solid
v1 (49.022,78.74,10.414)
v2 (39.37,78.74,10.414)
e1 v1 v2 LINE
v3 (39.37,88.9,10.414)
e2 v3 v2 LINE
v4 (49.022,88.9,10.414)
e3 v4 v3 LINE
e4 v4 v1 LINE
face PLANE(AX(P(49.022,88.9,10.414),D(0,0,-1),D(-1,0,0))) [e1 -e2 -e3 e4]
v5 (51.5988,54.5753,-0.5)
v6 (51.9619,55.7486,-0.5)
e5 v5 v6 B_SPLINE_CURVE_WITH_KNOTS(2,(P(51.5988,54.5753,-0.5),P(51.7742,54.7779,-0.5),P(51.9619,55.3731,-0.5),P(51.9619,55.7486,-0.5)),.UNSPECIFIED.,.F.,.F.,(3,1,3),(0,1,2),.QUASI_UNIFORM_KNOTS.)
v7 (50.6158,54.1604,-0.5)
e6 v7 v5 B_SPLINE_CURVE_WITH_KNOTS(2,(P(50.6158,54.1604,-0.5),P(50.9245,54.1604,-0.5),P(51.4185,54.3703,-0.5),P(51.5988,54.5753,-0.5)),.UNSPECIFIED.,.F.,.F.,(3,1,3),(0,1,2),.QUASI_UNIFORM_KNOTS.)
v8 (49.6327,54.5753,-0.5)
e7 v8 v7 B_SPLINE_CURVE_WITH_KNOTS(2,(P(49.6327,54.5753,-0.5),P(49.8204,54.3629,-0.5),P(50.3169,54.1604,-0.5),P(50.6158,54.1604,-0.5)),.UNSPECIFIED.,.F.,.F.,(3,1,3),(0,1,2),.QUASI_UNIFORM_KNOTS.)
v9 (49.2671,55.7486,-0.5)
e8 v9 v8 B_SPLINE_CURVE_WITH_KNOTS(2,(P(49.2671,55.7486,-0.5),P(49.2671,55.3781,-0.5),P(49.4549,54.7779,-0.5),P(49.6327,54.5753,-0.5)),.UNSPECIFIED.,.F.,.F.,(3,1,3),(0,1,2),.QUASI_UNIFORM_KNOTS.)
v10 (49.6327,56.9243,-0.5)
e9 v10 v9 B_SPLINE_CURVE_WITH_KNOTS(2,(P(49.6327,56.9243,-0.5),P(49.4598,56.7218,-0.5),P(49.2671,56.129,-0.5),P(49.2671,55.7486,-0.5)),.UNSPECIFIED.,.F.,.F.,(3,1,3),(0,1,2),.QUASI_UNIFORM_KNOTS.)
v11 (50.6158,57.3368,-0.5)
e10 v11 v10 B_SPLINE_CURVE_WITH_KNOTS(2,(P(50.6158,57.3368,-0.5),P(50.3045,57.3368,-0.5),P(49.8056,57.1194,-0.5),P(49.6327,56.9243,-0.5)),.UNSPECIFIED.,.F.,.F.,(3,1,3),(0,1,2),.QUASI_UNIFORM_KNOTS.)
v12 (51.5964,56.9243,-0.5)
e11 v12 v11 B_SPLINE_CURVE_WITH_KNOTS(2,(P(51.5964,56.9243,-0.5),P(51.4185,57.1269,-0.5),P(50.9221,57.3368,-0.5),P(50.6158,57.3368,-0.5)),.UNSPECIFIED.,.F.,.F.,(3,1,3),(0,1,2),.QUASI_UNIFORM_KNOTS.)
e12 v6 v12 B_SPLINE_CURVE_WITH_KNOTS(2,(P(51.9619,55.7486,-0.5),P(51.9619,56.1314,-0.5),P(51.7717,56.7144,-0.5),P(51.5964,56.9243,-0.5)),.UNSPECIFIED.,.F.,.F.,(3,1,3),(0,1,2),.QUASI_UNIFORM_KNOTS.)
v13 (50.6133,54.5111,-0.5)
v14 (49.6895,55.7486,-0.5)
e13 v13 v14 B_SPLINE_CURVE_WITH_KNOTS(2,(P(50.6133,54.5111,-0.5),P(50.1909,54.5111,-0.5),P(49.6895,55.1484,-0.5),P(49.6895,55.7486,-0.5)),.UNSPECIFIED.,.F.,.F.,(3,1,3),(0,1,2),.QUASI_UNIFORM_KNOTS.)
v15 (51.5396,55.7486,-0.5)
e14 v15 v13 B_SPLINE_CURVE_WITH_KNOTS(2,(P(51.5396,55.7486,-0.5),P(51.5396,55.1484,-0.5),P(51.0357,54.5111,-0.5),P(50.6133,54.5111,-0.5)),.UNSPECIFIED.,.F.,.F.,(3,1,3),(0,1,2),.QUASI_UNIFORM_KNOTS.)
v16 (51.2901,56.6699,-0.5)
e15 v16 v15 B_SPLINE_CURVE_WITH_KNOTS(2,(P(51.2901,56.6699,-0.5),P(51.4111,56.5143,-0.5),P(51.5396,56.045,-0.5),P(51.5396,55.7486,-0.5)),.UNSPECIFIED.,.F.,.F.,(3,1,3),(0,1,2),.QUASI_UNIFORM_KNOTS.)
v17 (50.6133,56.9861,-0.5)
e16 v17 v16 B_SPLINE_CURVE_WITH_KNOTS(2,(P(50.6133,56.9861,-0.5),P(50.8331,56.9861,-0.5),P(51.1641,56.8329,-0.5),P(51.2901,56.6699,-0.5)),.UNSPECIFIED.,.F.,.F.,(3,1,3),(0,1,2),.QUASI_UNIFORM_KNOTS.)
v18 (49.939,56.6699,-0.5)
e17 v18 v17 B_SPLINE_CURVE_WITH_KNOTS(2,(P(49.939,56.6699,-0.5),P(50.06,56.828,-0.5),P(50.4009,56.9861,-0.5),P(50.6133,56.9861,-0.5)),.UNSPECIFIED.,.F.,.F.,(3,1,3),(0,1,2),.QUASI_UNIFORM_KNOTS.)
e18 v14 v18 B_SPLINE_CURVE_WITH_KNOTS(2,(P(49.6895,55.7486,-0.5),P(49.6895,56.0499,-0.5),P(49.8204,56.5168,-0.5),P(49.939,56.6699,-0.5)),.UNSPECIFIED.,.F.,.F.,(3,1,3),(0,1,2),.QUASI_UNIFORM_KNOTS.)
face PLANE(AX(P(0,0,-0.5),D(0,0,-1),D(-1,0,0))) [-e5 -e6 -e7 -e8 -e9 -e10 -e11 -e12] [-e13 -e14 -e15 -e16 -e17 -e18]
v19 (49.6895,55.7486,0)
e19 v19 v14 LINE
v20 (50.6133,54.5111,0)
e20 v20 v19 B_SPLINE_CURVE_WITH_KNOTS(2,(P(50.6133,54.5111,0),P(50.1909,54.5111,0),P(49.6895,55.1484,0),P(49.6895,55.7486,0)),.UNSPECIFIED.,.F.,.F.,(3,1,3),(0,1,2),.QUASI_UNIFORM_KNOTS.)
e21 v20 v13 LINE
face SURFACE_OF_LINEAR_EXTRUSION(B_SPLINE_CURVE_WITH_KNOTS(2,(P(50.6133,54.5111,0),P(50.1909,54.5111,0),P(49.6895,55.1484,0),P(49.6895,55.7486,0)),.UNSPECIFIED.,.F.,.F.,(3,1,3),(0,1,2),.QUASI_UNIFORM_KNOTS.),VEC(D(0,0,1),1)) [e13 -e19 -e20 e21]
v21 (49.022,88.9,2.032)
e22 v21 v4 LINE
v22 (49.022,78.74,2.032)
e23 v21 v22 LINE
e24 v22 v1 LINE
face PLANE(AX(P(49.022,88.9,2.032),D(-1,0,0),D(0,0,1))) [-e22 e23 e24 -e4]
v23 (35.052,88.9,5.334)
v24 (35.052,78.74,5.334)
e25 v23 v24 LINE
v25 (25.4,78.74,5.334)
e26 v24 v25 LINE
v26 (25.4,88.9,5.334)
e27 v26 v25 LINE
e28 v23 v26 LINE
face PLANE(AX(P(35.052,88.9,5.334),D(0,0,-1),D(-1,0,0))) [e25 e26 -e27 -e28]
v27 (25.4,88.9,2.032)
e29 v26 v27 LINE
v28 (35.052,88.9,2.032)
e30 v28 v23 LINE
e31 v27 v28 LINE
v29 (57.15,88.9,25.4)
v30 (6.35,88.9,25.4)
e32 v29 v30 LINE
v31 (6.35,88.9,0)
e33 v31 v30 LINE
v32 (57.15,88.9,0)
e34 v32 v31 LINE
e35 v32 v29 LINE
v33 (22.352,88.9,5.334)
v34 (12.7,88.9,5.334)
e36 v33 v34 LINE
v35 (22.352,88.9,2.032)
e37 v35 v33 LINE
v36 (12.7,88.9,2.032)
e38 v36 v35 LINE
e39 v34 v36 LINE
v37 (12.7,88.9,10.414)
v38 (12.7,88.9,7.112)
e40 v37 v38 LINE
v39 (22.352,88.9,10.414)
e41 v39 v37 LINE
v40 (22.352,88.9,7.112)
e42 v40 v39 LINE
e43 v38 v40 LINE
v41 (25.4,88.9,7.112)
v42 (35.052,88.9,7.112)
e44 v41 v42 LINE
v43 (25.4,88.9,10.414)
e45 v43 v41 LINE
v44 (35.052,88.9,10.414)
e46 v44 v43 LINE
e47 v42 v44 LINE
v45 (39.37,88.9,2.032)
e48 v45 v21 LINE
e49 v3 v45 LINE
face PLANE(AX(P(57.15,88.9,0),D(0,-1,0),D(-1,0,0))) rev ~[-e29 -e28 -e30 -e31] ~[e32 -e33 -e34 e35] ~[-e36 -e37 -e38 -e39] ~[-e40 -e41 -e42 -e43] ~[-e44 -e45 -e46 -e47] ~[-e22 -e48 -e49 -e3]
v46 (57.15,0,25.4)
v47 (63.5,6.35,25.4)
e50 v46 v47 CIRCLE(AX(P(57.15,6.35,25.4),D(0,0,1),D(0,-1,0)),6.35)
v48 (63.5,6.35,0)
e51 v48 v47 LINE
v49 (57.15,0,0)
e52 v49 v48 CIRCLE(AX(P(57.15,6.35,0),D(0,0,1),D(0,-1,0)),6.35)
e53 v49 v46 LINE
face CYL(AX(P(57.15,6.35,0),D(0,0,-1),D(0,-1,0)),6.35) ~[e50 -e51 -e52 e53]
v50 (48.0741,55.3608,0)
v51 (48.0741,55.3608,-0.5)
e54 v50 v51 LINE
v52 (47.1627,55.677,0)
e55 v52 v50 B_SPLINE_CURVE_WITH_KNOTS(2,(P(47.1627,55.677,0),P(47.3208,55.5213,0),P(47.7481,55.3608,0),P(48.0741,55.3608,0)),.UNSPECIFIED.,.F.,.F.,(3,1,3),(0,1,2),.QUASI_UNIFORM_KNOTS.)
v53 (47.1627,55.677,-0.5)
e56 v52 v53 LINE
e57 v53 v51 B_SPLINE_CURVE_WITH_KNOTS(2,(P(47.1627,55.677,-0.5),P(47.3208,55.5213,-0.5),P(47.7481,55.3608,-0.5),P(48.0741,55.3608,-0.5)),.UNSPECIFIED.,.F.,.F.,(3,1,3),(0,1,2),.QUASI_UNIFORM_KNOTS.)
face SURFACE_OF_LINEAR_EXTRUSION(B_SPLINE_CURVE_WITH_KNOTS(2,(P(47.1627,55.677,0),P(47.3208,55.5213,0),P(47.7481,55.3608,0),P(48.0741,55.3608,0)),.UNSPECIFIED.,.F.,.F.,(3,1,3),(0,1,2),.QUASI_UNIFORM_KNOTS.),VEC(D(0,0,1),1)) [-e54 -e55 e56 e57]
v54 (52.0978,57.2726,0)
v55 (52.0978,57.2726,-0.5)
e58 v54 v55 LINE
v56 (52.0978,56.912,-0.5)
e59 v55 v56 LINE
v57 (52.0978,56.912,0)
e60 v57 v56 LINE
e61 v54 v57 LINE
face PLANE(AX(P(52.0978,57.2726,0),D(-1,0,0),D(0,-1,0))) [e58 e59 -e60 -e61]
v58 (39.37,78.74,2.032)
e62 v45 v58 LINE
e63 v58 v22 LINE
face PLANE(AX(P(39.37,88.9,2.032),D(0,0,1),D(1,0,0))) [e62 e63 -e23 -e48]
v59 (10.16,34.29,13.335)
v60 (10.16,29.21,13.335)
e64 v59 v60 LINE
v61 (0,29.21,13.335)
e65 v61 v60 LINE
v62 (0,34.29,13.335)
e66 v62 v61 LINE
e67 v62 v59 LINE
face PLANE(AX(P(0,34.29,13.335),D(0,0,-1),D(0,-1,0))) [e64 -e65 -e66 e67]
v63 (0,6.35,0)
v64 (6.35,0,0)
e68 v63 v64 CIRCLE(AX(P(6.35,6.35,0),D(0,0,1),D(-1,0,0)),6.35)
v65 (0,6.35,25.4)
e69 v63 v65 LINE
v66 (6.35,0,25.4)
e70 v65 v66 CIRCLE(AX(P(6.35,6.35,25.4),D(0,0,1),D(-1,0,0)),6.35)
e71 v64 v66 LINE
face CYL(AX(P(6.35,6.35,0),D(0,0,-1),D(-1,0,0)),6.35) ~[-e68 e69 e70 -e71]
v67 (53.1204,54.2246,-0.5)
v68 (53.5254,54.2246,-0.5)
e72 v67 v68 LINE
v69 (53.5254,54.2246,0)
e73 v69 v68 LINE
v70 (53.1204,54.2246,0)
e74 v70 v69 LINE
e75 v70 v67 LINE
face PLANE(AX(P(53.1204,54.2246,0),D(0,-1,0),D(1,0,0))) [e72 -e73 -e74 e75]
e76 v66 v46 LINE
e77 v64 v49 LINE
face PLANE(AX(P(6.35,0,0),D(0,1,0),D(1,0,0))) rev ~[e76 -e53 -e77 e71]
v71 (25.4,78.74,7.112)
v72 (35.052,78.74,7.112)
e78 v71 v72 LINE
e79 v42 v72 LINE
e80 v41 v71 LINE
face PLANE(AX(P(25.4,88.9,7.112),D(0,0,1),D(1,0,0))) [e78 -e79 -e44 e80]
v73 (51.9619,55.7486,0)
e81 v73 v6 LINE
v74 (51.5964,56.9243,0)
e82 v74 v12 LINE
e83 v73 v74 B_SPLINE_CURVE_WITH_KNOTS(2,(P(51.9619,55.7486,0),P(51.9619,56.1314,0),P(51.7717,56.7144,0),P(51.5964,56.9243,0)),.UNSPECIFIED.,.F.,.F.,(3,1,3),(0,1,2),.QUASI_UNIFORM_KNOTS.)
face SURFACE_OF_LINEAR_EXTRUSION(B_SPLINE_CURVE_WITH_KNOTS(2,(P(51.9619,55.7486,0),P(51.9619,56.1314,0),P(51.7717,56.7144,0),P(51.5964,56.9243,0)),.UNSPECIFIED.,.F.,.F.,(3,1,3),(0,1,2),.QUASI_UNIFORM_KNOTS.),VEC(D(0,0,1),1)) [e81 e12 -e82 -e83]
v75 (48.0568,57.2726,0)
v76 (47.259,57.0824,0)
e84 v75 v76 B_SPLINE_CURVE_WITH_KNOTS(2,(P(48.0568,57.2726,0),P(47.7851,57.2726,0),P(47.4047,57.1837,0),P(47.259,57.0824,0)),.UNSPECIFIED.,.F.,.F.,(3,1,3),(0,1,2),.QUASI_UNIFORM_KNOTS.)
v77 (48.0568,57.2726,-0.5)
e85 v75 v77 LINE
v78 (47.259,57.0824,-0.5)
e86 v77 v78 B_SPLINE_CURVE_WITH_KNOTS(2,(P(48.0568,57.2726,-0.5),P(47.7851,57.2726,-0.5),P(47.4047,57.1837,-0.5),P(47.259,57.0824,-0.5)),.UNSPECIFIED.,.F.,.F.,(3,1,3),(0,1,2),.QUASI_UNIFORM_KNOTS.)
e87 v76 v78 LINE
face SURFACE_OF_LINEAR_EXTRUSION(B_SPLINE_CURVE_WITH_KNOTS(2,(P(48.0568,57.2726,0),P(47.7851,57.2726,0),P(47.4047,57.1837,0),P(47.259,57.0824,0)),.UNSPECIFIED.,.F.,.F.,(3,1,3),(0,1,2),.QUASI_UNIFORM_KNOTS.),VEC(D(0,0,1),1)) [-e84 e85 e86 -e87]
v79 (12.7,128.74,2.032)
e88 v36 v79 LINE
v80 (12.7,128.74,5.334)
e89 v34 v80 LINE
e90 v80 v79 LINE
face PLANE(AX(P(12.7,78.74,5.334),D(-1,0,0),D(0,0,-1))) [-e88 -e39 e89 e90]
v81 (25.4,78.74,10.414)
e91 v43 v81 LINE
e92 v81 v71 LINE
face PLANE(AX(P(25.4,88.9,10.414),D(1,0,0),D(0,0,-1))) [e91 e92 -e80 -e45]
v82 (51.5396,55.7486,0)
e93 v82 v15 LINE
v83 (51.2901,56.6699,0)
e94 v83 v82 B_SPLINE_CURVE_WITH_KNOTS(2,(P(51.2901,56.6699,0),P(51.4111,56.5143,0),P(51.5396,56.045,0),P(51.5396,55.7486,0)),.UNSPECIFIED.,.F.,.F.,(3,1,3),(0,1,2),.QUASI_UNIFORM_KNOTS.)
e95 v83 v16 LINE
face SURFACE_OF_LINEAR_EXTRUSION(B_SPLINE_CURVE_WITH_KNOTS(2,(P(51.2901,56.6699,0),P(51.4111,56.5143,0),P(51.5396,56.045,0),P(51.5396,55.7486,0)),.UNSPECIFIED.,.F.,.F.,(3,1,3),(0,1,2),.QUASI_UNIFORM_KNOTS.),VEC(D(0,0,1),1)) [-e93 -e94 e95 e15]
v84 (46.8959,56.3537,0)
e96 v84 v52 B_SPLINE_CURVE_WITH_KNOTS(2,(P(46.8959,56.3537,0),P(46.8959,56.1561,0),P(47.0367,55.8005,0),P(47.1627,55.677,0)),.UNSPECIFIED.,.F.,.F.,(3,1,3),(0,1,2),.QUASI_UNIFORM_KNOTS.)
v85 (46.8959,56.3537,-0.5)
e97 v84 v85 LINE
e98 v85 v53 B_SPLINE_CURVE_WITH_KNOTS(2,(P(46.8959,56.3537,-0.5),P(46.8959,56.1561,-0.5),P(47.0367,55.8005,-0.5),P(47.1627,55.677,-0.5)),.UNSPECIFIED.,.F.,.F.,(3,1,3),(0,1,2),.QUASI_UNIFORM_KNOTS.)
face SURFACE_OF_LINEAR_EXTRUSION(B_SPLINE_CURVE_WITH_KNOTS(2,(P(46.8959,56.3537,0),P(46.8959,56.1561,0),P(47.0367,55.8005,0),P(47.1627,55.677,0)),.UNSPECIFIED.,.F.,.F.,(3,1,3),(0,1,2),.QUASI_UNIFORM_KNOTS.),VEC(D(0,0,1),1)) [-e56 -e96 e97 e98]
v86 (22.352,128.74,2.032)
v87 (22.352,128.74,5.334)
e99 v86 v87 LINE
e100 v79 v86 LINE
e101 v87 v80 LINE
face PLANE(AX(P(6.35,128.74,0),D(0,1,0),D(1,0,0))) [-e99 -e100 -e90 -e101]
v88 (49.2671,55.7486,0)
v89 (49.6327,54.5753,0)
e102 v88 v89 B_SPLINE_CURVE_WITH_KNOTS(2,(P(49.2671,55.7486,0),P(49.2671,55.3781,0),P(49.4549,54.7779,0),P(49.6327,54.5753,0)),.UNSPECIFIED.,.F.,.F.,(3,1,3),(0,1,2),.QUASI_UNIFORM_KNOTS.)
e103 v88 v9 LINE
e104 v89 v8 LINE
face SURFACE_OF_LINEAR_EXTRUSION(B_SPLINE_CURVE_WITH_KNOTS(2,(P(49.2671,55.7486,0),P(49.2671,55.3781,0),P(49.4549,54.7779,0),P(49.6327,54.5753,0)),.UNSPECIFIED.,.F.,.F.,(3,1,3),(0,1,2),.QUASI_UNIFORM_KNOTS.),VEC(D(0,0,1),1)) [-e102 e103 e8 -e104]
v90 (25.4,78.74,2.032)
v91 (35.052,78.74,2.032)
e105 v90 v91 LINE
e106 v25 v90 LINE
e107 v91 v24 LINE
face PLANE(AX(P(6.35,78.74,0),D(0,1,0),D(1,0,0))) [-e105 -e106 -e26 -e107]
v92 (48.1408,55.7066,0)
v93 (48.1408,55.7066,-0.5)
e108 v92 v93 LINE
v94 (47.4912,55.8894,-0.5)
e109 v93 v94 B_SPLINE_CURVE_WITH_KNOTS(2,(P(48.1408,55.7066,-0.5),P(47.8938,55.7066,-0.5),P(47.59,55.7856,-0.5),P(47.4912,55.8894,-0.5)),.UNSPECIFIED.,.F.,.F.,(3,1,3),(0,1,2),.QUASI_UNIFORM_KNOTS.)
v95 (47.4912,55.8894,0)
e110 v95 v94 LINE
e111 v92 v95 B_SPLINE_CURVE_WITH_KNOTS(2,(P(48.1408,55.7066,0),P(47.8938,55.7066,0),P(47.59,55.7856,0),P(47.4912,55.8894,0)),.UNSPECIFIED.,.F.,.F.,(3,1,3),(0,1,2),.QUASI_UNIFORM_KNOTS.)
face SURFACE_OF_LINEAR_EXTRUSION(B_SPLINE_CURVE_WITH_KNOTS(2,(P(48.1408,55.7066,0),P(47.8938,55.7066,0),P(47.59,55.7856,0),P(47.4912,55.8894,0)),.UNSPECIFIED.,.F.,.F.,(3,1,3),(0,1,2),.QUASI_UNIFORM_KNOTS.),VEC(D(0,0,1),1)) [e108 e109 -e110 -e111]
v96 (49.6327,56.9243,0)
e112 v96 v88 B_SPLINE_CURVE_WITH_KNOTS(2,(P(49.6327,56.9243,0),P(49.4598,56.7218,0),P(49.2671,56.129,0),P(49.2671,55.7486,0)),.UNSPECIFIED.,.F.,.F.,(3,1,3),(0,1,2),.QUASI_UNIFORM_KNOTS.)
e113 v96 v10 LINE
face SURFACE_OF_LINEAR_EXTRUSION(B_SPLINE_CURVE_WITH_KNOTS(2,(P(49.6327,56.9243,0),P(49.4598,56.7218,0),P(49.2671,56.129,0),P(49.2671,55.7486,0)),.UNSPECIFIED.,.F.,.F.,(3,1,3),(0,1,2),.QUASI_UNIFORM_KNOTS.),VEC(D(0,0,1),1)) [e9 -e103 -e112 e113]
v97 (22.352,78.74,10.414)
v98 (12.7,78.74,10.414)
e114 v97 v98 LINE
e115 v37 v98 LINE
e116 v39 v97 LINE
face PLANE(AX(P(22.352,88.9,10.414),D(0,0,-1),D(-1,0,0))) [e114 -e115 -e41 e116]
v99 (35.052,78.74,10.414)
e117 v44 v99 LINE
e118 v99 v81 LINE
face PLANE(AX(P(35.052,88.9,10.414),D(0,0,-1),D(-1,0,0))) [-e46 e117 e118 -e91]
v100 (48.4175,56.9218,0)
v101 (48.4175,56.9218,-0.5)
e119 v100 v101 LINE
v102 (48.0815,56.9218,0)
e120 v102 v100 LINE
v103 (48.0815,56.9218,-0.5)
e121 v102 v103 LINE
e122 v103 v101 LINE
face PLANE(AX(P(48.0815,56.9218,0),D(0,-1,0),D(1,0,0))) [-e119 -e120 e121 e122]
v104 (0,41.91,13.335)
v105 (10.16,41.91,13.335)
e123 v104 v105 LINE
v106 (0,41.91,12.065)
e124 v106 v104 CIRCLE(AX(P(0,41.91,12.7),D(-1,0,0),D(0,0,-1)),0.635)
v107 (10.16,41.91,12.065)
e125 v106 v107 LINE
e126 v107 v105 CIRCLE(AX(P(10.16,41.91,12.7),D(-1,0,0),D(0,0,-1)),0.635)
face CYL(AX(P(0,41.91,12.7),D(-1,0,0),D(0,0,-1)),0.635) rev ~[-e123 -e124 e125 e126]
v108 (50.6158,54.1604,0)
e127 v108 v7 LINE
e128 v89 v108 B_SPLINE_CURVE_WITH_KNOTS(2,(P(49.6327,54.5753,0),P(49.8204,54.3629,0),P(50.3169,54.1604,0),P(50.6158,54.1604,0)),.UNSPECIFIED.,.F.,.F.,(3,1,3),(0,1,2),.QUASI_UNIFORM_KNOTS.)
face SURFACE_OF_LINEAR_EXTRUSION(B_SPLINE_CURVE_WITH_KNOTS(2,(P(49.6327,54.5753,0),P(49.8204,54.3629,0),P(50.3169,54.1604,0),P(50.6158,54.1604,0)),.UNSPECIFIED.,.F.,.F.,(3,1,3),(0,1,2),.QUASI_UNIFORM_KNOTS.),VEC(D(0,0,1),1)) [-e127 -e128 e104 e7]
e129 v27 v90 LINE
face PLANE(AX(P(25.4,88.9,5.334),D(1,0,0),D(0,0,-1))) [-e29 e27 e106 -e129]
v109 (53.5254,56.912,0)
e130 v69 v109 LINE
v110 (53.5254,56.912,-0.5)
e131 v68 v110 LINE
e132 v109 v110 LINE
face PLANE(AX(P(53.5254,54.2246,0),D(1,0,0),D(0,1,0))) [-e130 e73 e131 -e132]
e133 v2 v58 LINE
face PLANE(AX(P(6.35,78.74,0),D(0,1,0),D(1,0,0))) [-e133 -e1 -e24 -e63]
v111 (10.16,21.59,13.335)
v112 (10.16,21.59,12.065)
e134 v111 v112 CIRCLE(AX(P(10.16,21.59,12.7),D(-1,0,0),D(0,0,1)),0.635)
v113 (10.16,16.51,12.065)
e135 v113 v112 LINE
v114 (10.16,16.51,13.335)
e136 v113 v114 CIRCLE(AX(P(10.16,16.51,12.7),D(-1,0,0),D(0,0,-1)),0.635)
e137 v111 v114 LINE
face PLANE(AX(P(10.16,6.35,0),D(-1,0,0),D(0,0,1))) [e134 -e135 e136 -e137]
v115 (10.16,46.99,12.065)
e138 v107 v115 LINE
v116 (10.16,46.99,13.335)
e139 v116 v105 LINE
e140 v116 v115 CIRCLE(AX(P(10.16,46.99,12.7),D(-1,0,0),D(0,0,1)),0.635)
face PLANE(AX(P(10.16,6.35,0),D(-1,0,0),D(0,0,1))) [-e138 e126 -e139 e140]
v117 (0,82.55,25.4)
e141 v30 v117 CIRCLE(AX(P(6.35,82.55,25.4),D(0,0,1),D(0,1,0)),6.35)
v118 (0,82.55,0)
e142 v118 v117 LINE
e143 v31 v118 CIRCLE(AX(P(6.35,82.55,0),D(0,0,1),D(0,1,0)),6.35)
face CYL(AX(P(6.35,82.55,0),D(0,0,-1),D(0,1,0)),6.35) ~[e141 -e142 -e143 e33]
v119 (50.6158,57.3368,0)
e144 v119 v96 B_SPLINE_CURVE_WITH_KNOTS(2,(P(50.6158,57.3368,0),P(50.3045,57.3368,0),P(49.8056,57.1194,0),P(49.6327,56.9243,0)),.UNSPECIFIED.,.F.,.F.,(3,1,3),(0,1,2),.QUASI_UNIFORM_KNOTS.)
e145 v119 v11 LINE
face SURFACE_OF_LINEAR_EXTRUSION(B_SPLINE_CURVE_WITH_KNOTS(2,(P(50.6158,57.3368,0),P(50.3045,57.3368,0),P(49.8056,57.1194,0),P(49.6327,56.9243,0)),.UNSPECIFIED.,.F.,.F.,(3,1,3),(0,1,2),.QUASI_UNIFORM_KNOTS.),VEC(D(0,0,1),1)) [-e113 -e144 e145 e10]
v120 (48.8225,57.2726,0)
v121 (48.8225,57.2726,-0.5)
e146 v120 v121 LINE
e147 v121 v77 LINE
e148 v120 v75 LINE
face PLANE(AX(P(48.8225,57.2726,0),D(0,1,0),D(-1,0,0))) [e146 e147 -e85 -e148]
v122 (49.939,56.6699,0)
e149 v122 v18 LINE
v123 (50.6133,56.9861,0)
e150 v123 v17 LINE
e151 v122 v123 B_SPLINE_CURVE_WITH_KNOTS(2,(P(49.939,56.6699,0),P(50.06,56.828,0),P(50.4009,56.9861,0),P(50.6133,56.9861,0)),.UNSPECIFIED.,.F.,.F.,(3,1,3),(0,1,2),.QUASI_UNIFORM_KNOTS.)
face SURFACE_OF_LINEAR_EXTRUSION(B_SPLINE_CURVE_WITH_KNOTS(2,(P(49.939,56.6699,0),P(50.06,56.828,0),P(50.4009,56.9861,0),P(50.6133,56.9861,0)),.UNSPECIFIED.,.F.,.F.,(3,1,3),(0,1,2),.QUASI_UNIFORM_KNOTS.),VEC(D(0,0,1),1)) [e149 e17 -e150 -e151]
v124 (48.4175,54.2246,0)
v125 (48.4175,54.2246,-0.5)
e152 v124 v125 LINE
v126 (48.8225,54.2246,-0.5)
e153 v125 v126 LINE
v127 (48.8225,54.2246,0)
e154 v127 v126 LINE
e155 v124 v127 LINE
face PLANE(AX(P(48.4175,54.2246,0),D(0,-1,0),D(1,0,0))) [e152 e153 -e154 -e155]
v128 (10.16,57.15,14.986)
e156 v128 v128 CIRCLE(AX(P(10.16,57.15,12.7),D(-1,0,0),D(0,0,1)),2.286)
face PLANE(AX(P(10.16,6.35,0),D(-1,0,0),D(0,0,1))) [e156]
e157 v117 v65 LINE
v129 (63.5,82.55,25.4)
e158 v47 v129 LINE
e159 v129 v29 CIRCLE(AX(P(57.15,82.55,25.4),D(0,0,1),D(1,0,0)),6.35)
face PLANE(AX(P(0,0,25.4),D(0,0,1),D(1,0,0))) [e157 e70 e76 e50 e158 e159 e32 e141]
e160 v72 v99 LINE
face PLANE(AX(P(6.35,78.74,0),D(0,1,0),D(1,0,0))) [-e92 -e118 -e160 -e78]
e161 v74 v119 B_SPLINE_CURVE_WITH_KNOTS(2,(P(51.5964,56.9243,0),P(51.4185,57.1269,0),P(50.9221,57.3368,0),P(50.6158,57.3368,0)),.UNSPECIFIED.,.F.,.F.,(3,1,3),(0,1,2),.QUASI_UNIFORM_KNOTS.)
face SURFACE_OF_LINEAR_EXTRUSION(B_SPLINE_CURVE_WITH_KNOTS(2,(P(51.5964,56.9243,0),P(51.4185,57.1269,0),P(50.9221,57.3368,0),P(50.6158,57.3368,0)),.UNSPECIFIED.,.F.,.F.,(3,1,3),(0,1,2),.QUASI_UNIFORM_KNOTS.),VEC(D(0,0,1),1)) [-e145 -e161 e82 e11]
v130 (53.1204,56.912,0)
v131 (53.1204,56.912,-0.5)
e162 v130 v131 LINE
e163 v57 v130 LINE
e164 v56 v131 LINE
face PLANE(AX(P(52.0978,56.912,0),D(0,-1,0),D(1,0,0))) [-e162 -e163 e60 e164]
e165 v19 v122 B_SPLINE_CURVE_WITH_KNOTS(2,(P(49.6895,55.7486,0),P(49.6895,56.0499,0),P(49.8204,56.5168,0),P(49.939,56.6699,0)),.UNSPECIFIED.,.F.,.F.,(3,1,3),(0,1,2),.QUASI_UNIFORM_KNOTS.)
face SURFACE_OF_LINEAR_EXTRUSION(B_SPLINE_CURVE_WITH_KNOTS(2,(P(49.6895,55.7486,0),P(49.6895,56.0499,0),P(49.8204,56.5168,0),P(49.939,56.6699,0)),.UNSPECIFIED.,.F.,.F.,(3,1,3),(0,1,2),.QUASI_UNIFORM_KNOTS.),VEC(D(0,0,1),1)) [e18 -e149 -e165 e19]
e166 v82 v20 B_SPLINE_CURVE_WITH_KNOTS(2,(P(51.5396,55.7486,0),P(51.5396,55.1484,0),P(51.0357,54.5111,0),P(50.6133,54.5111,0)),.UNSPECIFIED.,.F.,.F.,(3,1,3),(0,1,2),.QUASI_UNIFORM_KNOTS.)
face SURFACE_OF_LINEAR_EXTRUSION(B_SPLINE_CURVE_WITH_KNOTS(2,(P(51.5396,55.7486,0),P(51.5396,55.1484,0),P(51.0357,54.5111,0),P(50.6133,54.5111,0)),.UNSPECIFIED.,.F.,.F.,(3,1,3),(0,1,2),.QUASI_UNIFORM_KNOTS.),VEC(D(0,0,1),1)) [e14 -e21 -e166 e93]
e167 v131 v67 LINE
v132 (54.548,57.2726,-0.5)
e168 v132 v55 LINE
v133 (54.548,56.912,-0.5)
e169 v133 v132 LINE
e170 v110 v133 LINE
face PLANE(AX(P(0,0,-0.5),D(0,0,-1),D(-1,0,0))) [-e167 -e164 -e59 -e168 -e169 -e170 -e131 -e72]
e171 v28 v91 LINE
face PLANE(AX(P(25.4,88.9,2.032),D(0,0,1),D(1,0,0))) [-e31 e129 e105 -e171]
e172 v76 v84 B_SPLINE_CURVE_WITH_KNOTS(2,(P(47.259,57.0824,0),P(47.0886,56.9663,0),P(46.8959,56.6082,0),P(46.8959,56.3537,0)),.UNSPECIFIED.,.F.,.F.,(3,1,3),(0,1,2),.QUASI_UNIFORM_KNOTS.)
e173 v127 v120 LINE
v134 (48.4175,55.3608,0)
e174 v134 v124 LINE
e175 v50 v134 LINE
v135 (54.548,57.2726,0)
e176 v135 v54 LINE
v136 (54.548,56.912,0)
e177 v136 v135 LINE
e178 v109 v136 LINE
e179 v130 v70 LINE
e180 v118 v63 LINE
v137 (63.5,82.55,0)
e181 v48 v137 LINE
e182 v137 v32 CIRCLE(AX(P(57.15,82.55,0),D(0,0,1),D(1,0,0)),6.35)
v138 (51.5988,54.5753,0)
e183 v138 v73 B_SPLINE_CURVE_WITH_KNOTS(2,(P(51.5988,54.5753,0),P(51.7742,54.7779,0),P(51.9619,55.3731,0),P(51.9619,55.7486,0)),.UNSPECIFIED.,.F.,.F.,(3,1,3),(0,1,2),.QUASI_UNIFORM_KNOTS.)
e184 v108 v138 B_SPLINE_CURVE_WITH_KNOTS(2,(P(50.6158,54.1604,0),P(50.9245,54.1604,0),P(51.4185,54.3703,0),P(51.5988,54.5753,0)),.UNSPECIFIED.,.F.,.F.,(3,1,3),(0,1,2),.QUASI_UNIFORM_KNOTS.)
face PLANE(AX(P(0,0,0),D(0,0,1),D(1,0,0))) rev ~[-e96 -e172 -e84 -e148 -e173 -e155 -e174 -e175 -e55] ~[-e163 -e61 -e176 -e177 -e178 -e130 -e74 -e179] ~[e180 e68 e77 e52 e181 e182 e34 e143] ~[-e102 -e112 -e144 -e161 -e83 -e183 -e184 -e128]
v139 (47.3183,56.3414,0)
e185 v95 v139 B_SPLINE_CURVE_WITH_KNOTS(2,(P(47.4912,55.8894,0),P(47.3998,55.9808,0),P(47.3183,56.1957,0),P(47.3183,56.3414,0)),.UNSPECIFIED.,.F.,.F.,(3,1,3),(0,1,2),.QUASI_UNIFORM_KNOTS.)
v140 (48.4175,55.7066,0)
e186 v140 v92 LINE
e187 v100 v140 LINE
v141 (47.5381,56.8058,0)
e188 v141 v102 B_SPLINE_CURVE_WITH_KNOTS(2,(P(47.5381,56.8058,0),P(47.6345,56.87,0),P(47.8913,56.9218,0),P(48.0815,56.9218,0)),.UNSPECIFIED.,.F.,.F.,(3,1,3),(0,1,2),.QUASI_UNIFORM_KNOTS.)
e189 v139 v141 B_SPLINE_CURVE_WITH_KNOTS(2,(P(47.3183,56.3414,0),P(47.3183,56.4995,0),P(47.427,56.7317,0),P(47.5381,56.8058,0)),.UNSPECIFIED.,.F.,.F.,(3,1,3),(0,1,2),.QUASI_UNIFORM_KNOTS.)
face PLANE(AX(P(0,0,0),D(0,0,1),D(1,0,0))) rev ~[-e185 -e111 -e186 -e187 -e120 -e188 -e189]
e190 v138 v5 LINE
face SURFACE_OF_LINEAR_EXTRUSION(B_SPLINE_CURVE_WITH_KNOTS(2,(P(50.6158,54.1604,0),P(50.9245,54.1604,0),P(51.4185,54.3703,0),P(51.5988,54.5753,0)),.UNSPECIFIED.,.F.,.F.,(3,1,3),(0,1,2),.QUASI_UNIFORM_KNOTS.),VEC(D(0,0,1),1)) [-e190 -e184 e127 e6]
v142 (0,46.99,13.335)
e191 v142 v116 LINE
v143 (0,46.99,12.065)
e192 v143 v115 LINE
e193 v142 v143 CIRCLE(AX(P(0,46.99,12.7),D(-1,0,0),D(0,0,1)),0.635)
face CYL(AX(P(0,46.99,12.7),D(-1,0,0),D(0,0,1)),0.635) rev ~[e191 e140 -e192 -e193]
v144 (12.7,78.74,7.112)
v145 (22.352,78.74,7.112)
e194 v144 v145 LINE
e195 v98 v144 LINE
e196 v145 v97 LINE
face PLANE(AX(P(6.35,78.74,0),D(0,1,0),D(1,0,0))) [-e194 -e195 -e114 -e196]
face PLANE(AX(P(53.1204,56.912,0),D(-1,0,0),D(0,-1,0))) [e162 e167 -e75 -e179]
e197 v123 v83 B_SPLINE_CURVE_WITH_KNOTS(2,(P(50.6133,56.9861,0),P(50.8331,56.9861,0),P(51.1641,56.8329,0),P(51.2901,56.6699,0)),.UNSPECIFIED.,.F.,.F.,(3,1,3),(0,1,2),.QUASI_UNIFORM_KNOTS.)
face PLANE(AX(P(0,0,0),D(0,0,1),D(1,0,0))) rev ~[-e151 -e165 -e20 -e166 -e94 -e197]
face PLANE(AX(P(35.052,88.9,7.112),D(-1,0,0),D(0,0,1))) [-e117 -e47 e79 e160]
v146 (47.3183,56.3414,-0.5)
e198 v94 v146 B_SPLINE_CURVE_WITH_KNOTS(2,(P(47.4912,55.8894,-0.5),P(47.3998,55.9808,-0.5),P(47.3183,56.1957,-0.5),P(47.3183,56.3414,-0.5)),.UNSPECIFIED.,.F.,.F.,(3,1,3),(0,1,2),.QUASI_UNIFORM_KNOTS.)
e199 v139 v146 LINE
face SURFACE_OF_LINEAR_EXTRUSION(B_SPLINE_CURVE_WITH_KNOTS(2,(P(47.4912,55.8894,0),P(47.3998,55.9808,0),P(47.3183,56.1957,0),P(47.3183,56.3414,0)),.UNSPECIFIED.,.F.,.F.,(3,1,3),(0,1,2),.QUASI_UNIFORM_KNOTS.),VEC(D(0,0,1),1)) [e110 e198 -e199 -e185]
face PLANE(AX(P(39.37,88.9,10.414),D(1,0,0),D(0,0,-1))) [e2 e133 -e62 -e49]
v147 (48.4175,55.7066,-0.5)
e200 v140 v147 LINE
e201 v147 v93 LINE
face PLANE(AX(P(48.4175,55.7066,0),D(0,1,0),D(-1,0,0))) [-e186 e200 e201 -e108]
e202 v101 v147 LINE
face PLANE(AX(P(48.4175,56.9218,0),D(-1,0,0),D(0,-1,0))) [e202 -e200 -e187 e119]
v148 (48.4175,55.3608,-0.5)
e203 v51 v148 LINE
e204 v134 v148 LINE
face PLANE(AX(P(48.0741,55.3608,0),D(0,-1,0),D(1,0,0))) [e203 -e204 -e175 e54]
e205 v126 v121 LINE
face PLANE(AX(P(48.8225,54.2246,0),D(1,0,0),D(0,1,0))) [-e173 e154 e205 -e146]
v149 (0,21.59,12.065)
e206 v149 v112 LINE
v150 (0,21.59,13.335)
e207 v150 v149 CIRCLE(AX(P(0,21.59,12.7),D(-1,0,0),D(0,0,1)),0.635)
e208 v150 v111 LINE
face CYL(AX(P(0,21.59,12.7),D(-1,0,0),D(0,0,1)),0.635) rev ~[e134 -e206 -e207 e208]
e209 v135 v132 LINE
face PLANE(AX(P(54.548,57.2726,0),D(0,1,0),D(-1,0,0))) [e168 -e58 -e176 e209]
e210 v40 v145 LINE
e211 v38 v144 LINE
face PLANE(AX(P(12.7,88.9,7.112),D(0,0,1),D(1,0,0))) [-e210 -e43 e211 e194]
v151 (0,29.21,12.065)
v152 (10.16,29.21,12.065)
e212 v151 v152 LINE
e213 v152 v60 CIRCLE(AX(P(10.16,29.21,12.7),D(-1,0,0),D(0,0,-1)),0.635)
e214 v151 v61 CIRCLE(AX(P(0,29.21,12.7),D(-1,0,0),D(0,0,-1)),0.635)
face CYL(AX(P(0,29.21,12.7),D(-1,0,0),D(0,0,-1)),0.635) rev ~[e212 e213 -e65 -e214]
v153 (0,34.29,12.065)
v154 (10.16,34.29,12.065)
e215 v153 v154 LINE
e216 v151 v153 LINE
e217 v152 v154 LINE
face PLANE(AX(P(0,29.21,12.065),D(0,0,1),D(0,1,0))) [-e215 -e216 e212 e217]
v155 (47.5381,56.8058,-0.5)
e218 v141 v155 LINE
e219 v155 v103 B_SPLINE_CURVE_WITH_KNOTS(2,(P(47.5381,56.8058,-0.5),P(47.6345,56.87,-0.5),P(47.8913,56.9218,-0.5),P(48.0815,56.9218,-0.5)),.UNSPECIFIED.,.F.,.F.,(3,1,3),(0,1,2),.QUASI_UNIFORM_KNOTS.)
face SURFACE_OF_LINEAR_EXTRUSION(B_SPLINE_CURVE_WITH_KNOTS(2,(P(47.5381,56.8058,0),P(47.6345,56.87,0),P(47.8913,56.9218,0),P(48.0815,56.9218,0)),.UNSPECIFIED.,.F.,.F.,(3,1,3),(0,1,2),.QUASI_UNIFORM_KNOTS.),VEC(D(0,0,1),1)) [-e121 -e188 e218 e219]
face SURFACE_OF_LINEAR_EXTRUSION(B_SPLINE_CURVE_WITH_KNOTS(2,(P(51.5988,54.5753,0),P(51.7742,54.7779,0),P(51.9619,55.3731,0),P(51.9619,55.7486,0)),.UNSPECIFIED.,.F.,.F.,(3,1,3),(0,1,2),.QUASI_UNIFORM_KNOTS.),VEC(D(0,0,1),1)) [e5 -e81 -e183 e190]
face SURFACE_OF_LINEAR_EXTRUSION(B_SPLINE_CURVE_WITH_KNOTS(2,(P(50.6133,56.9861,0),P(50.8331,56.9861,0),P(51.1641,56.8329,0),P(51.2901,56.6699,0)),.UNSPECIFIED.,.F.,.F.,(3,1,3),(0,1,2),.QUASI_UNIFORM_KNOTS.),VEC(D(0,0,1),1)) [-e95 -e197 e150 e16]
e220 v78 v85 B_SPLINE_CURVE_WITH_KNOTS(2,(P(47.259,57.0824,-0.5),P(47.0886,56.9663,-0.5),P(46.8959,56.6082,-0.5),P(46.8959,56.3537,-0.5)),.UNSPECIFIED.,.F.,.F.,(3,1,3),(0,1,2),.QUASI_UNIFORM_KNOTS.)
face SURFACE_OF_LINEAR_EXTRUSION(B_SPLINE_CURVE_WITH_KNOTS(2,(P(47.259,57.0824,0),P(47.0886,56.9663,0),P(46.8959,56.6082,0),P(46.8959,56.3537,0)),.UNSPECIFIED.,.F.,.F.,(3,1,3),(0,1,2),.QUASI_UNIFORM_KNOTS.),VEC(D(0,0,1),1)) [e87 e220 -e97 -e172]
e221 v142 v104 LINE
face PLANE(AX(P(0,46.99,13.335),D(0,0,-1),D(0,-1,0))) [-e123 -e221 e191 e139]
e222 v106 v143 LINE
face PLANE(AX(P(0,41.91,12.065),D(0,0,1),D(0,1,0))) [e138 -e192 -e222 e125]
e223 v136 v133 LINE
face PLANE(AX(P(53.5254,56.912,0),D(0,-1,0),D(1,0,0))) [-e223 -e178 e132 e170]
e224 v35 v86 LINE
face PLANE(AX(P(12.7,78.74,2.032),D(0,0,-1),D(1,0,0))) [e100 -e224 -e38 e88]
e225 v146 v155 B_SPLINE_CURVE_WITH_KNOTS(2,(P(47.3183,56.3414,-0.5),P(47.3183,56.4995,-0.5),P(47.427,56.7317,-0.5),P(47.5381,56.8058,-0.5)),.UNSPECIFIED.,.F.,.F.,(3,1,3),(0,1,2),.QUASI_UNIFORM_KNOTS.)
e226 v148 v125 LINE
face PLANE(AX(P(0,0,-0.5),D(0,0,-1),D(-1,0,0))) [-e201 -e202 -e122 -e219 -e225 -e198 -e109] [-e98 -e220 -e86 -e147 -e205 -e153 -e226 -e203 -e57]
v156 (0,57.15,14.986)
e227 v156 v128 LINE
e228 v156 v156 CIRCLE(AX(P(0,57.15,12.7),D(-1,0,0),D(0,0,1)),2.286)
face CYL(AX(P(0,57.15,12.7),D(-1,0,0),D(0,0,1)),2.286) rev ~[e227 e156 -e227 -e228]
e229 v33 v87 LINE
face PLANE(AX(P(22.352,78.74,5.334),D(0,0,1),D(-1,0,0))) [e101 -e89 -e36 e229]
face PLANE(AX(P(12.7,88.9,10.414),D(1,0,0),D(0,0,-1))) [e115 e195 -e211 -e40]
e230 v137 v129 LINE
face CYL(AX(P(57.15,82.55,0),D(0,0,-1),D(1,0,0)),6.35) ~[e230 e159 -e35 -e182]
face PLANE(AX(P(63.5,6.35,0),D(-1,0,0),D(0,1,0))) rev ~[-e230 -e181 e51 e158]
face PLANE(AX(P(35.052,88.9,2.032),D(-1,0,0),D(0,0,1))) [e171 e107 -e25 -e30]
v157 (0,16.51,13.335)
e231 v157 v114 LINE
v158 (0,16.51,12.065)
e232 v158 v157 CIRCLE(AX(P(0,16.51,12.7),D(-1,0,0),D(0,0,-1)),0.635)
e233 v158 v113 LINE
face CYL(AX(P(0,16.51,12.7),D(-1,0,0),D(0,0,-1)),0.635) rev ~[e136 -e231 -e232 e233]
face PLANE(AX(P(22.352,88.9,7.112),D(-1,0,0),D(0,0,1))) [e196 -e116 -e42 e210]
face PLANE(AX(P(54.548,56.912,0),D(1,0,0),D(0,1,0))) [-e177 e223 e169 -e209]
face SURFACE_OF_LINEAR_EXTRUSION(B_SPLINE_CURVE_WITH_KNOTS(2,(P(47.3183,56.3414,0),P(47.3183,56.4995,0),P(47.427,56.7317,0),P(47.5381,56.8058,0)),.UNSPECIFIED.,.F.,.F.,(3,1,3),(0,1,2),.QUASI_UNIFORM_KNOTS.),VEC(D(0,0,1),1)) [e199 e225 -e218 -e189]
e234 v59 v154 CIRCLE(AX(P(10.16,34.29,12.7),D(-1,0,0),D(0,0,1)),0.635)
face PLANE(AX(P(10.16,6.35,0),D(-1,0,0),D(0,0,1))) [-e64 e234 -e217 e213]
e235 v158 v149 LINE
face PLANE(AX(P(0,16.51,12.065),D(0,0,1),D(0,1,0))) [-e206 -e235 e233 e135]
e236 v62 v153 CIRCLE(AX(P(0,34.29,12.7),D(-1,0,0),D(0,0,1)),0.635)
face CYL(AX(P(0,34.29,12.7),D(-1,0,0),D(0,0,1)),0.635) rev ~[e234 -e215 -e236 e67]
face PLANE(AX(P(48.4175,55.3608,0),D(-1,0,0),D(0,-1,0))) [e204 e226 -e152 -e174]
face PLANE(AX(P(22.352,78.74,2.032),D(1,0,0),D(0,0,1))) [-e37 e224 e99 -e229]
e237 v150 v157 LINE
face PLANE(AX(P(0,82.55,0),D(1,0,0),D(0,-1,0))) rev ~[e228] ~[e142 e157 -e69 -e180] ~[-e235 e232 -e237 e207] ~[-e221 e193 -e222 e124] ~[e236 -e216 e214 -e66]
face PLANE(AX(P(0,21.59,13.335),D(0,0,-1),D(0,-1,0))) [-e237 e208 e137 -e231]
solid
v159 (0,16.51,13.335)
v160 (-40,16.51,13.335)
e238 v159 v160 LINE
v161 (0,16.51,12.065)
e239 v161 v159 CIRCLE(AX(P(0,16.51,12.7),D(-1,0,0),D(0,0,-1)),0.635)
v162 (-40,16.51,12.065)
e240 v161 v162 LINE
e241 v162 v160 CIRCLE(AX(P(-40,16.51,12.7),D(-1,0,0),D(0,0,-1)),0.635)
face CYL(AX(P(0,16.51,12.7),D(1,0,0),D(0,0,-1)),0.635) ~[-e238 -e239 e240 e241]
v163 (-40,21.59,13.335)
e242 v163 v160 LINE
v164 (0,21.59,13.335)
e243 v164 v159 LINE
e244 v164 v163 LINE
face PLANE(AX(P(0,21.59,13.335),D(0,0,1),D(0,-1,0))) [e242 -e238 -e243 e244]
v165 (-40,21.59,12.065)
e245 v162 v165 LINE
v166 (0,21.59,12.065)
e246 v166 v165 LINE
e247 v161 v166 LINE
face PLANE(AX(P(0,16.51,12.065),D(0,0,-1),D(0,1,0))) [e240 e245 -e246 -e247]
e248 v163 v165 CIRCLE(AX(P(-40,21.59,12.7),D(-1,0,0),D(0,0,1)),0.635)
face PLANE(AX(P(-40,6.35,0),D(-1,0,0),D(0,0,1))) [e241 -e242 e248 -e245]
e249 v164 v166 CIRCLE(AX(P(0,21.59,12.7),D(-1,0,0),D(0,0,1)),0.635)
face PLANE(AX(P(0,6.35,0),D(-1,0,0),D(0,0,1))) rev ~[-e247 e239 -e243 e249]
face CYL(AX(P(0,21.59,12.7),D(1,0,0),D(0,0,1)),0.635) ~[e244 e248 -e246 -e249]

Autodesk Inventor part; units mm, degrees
ref_plane "YZ Plane" through (0, 0, 0) normal (1, 0, 0) x (0, 1, 0)
ref_plane "XZ Plane" through (0, 0, 0) normal (0, 1, 0) x (-1, 0, 0)
ref_plane "XY Plane" through (0, 0, 0) normal (0, 0, 1) x (1, 0, 0)
sketch "Sketch1" plane through (0, 0, 0) normal (0, 0, 1) x (1, 0, 0)
  line L0 (6.35, 0) -> (57.15, 0)
  line L1 (63.5, 6.35) -> (63.5, 82.55)
  line L2 (57.15, 88.9) -> (6.35, 88.9)
  line L3 (0, 82.55) -> (0, 6.35)
  arc A0 (6.35, 88.9) -> (0, 82.55) centre (6.35, 82.55) ccw
  arc A1 (63.5, 82.55) -> (57.15, 88.9) centre (57.15, 82.55) ccw
  arc A2 (57.15, 0) -> (63.5, 6.35) centre (57.15, 6.35) ccw
  arc A3 (0, 6.35) -> (6.35, 0) centre (6.35, 6.35) ccw
  point P0 (0, 0)
  point P1 (63.5, 88.9)
  point P2 (63.5, 0)
  point P3 (0, 88.9)
  dimension "d0" = 88.9
  dimension "d1" = 63.5
  dimension "d2" = 6.35
extrude "Extrusion1" add sketch "Sketch1" along normal blind 25.4
sketch "Sketch2" plane through (6.35, 88.9, 0) normal (0, 1, 0) x (1, 0, 0)
  line L0 (6.35, -2.032) -> (16.002, -2.032)
  line L1 (16.002, -2.032) -> (16.002, -5.334)
  line L2 (16.002, -5.334) -> (6.35, -5.334)
  line L3 (6.35, -5.334) -> (6.35, -2.032)
  line L4 (0, 0) -> (0, -25.4) projected
  line L5 (50.8, 0) -> (0, 0) projected
  line L6 (28.702, -5.334) -> (19.05, -5.334)
  line L7 (19.05, -2.032) -> (28.702, -2.032)
  line L8 (28.702, -2.032) -> (28.702, -5.334)
  line L9 (19.05, -5.334) -> (19.05, -2.032)
  line L10 (16.002, -10.414) -> (6.35, -10.414)
  line L11 (6.35, -7.112) -> (16.002, -7.112)
  line L12 (16.002, -7.112) -> (16.002, -10.414)
  line L13 (6.35, -10.414) -> (6.35, -7.112)
  line L14 (28.702, -10.414) -> (19.05, -10.414)
  line L15 (19.05, -7.112) -> (28.702, -7.112)
  line L16 (28.702, -7.112) -> (28.702, -10.414)
  line L17 (19.05, -10.414) -> (19.05, -7.112)
  line L18 (33.02, -2.032) -> (42.672, -2.032)
  line L19 (42.672, -2.032) -> (42.672, -10.414)
  line L20 (42.672, -10.414) -> (33.02, -10.414)
  line L21 (33.02, -10.414) -> (33.02, -2.032)
  point P0 (-6.35, 0)
  point P1 (6.35, -3.683)
  point P2 (19.05, -3.683)
  point P3 (6.35, -8.763)
  point P4 (19.05, -8.763)
  point P5 (37.846, -2.032)
  dimension "d5" = 6.35
  dimension "d6" = 9.652
  dimension "d7" = 3.302
  dimension "d8" = 2.032
  dimension "d11" = 12.7
  dimension "d14" = 5.08
  dimension "d17" = 8.382
  dimension "d18" = 9.652
  dimension "d19" = 4.318
  dimension "d20" = 0
extrude "Extrusion2" cut sketch "Sketch2" against normal blind 10.16
sketch "Sketch3" plane through (0, 6.35, 0) normal (-1, 0, 0) x (0, 0, 1)
  line L0 (12.7, 10.16) -> (12.7, 15.24) construction
  line L1 (12.065, 10.16) -> (12.065, 15.24)
  line L2 (13.335, 15.24) -> (13.335, 10.16)
  arc A0 (12.065, 10.16) -> (13.335, 10.16) centre (12.7, 10.16) ccw
  arc A1 (13.335, 15.24) -> (12.065, 15.24) centre (12.7, 15.24) ccw
  line L3 (25.4, 76.2) -> (25.4, 0) projected
  line L4 (0, 0) -> (25.4, 0) projected
  line L5 (13.335, 27.94) -> (13.335, 22.86)
  arc A2 (12.065, 22.86) -> (13.335, 22.86) centre (12.7, 22.86) ccw
  line L6 (12.065, 22.86) -> (12.065, 27.94)
  arc A3 (13.335, 27.94) -> (12.065, 27.94) centre (12.7, 27.94) ccw
  line L7 (13.335, 40.64) -> (13.335, 35.56)
  arc A4 (12.065, 35.56) -> (13.335, 35.56) centre (12.7, 35.56) ccw
  line L8 (12.065, 35.56) -> (12.065, 40.64)
  arc A5 (13.335, 40.64) -> (12.065, 40.64) centre (12.7, 40.64) ccw
  circle A6 centre (12.7, 50.8) radius 2.286
  line L9 (0, 76.2) -> (25.4, 76.2) projected
  point P0 (0, -6.35)
  point P1 (12.7, 12.7)
  point P2 (12.7, 76.2)
  dimension "d23" = 5.08
  dimension "d24" = 0.635
  dimension "d25" = 12.7
  dimension "d26" = 12.7
  dimension "d29" = 12.7
  dimension "d34" = 4.572
  dimension "d35" = 12.7
  dimension "d36" = 25.4
extrude "Extrusion3" cut sketch "Sketch3" against normal blind 10.16
sketch "Sketch4" plane through (6.35, 78.74, 0) normal (0, 1, 0) x (1, 0, 0)
  point P0 (-6.35, 0)
sketch "Sketch5" plane through (6.35, 78.74, 0) normal (0, 1, 0) x (1, 0, 0)
  line L0 (16.002, -5.334) -> (6.35, -5.334) projected
  line L1 (6.35, -5.334) -> (6.35, -2.032) projected
  line L2 (6.35, -2.032) -> (16.002, -2.032) projected
  line L3 (16.002, -2.032) -> (16.002, -5.334) projected
  point P0 (-6.35, 0)
extrude "Extrusion4" add sketch "Sketch5" along normal blind 50
sketch "Sketch6" plane through (0, 6.35, 0) normal (-1, 0, 0) x (0, 0, 1)
  arc A0 (12.065, 10.16) -> (13.335, 10.16) centre (12.7, 10.16) ccw projected
  line L0 (13.335, 15.24) -> (13.335, 10.16) projected
  line L1 (12.065, 10.16) -> (12.065, 15.24) projected
  arc A1 (13.335, 15.24) -> (12.065, 15.24) centre (12.7, 15.24) ccw projected
  arc A2 (12.065, 22.86) -> (13.335, 22.86) centre (12.7, 22.86) ccw projected
  line L2 (13.335, 27.94) -> (13.335, 22.86) projected
  line L3 (12.065, 22.86) -> (12.065, 27.94) projected
  arc A3 (13.335, 27.94) -> (12.065, 27.94) centre (12.7, 27.94) ccw projected
  point P0 (0, -6.35)
extrude "Extrusion5" add sketch "Sketch6" along normal blind 40 contours L1 A1 L0 A0
sketch "Sketch7" plane through (0, 0, 0) normal (0, 0, -1) x (-1, 0, 0)
  line L0 (-54.5456, 57.3368) -> (-7.6923, 57.3368) construction
  line L1 (-7.6923, 57.3368) -> (-7.6923, 33.9102) construction
  line L2 (-7.6923, 33.9102) -> (-54.5456, 33.9102) construction
  line L3 (-54.5456, 33.9102) -> (-54.5456, 57.3368) construction
  line L4 (-53.5254, 54.2246) -> (-53.5254, 56.912)
  line L5 (-53.5254, 56.912) -> (-54.548, 56.912)
  line L6 (-54.548, 56.912) -> (-54.548, 57.2726)
  line L7 (-54.548, 57.2726) -> (-52.0978, 57.2726)
  line L8 (-52.0978, 57.2726) -> (-52.0978, 56.912)
  line L9 (-52.0978, 56.912) -> (-53.1204, 56.912)
  line L10 (-53.1204, 56.912) -> (-53.1204, 54.2246)
  line L11 (-53.1204, 54.2246) -> (-53.5254, 54.2246)
  spline S0 degree 2 poles (-49.6327, 56.9243) (-49.4598, 56.7218) (-49.2671, 56.129) (-49.2671, 55.7486) knots 0 0 0 1 2 2 2
  spline S1 degree 2 poles (-49.2671, 55.7486) (-49.2671, 55.3781) (-49.4549, 54.7779) (-49.6327, 54.5753) knots 0 0 0 1 2 2 2
  spline S2 degree 2 poles (-49.6327, 54.5753) (-49.8204, 54.3629) (-50.3169, 54.1604) (-50.6158, 54.1604) knots 0 0 0 1 2 2 2
  spline S3 degree 2 poles (-50.6158, 54.1604) (-50.9245, 54.1604) (-51.4185, 54.3703) (-51.5988, 54.5753) knots 0 0 0 1 2 2 2
  spline S4 degree 2 poles (-51.5988, 54.5753) (-51.7742, 54.7779) (-51.9619, 55.3731) (-51.9619, 55.7486) knots 0 0 0 1 2 2 2
  spline S5 degree 2 poles (-51.9619, 55.7486) (-51.9619, 56.1314) (-51.7717, 56.7144) (-51.5964, 56.9243) knots 0 0 0 1 2 2 2
  spline S6 degree 2 poles (-51.5964, 56.9243) (-51.4185, 57.1269) (-50.9221, 57.3368) (-50.6158, 57.3368) knots 0 0 0 1 2 2 2
  spline S7 degree 2 poles (-50.6158, 57.3368) (-50.3045, 57.3368) (-49.8056, 57.1194) (-49.6327, 56.9243) knots 0 0 0 1 2 2 2
  spline S8 degree 2 poles (-49.6895, 55.7486) (-49.6895, 56.0499) (-49.8204, 56.5168) (-49.939, 56.6699) knots 0 0 0 1 2 2 2
  spline S9 degree 2 poles (-49.939, 56.6699) (-50.06, 56.828) (-50.4009, 56.9861) (-50.6133, 56.9861) knots 0 0 0 1 2 2 2
  spline S10 degree 2 poles (-50.6133, 56.9861) (-50.8331, 56.9861) (-51.1641, 56.8329) (-51.2901, 56.6699) knots 0 0 0 1 2 2 2
  spline S11 degree 2 poles (-51.2901, 56.6699) (-51.4111, 56.5143) (-51.5396, 56.045) (-51.5396, 55.7486) knots 0 0 0 1 2 2 2
  spline S12 degree 2 poles (-51.5396, 55.7486) (-51.5396, 55.1484) (-51.0357, 54.5111) (-50.6133, 54.5111) knots 0 0 0 1 2 2 2
  spline S13 degree 2 poles (-50.6133, 54.5111) (-50.1909, 54.5111) (-49.6895, 55.1484) (-49.6895, 55.7486) knots 0 0 0 1 2 2 2
  spline S14 degree 2 poles (-46.8959, 56.3537) (-46.8959, 56.1561) (-47.0367, 55.8005) (-47.1627, 55.677) knots 0 0 0 1 2 2 2
  spline S15 degree 2 poles (-47.1627, 55.677) (-47.3208, 55.5213) (-47.7481, 55.3608) (-48.0741, 55.3608) knots 0 0 0 1 2 2 2
  line L12 (-48.0741, 55.3608) -> (-48.4175, 55.3608)
  line L13 (-48.4175, 55.3608) -> (-48.4175, 54.2246)
  line L14 (-48.4175, 54.2246) -> (-48.8225, 54.2246)
  line L15 (-48.8225, 54.2246) -> (-48.8225, 57.2726)
  line L16 (-48.8225, 57.2726) -> (-48.0568, 57.2726)
  spline S16 degree 2 poles (-48.0568, 57.2726) (-47.7851, 57.2726) (-47.4047, 57.1837) (-47.259, 57.0824) knots 0 0 0 1 2 2 2
  spline S17 degree 2 poles (-47.259, 57.0824) (-47.0886, 56.9663) (-46.8959, 56.6082) (-46.8959, 56.3537) knots 0 0 0 1 2 2 2
  spline S18 degree 2 poles (-47.3183, 56.3414) (-47.3183, 56.4995) (-47.427, 56.7317) (-47.5381, 56.8058) knots 0 0 0 1 2 2 2
  spline S19 degree 2 poles (-47.5381, 56.8058) (-47.6345, 56.87) (-47.8913, 56.9218) (-48.0815, 56.9218) knots 0 0 0 1 2 2 2
  line L17 (-48.0815, 56.9218) -> (-48.4175, 56.9218)
  line L18 (-48.4175, 56.9218) -> (-48.4175, 55.7066)
  line L19 (-48.4175, 55.7066) -> (-48.1408, 55.7066)
  spline S20 degree 2 poles (-48.1408, 55.7066) (-47.8938, 55.7066) (-47.59, 55.7856) (-47.4912, 55.8894) knots 0 0 0 1 2 2 2
  spline S21 degree 2 poles (-47.4912, 55.8894) (-47.3998, 55.9808) (-47.3183, 56.1957) (-47.3183, 56.3414) knots 0 0 0 1 2 2 2
  point P0 (0, 0)
  dimension "d0" = 88.9
  dimension "d1" = 63.5
  dimension "d2" = 6.35
extrude "Extrusion6" add sketch "Sketch7" along normal blind 0.5
properties part number "RaspberryPi"
